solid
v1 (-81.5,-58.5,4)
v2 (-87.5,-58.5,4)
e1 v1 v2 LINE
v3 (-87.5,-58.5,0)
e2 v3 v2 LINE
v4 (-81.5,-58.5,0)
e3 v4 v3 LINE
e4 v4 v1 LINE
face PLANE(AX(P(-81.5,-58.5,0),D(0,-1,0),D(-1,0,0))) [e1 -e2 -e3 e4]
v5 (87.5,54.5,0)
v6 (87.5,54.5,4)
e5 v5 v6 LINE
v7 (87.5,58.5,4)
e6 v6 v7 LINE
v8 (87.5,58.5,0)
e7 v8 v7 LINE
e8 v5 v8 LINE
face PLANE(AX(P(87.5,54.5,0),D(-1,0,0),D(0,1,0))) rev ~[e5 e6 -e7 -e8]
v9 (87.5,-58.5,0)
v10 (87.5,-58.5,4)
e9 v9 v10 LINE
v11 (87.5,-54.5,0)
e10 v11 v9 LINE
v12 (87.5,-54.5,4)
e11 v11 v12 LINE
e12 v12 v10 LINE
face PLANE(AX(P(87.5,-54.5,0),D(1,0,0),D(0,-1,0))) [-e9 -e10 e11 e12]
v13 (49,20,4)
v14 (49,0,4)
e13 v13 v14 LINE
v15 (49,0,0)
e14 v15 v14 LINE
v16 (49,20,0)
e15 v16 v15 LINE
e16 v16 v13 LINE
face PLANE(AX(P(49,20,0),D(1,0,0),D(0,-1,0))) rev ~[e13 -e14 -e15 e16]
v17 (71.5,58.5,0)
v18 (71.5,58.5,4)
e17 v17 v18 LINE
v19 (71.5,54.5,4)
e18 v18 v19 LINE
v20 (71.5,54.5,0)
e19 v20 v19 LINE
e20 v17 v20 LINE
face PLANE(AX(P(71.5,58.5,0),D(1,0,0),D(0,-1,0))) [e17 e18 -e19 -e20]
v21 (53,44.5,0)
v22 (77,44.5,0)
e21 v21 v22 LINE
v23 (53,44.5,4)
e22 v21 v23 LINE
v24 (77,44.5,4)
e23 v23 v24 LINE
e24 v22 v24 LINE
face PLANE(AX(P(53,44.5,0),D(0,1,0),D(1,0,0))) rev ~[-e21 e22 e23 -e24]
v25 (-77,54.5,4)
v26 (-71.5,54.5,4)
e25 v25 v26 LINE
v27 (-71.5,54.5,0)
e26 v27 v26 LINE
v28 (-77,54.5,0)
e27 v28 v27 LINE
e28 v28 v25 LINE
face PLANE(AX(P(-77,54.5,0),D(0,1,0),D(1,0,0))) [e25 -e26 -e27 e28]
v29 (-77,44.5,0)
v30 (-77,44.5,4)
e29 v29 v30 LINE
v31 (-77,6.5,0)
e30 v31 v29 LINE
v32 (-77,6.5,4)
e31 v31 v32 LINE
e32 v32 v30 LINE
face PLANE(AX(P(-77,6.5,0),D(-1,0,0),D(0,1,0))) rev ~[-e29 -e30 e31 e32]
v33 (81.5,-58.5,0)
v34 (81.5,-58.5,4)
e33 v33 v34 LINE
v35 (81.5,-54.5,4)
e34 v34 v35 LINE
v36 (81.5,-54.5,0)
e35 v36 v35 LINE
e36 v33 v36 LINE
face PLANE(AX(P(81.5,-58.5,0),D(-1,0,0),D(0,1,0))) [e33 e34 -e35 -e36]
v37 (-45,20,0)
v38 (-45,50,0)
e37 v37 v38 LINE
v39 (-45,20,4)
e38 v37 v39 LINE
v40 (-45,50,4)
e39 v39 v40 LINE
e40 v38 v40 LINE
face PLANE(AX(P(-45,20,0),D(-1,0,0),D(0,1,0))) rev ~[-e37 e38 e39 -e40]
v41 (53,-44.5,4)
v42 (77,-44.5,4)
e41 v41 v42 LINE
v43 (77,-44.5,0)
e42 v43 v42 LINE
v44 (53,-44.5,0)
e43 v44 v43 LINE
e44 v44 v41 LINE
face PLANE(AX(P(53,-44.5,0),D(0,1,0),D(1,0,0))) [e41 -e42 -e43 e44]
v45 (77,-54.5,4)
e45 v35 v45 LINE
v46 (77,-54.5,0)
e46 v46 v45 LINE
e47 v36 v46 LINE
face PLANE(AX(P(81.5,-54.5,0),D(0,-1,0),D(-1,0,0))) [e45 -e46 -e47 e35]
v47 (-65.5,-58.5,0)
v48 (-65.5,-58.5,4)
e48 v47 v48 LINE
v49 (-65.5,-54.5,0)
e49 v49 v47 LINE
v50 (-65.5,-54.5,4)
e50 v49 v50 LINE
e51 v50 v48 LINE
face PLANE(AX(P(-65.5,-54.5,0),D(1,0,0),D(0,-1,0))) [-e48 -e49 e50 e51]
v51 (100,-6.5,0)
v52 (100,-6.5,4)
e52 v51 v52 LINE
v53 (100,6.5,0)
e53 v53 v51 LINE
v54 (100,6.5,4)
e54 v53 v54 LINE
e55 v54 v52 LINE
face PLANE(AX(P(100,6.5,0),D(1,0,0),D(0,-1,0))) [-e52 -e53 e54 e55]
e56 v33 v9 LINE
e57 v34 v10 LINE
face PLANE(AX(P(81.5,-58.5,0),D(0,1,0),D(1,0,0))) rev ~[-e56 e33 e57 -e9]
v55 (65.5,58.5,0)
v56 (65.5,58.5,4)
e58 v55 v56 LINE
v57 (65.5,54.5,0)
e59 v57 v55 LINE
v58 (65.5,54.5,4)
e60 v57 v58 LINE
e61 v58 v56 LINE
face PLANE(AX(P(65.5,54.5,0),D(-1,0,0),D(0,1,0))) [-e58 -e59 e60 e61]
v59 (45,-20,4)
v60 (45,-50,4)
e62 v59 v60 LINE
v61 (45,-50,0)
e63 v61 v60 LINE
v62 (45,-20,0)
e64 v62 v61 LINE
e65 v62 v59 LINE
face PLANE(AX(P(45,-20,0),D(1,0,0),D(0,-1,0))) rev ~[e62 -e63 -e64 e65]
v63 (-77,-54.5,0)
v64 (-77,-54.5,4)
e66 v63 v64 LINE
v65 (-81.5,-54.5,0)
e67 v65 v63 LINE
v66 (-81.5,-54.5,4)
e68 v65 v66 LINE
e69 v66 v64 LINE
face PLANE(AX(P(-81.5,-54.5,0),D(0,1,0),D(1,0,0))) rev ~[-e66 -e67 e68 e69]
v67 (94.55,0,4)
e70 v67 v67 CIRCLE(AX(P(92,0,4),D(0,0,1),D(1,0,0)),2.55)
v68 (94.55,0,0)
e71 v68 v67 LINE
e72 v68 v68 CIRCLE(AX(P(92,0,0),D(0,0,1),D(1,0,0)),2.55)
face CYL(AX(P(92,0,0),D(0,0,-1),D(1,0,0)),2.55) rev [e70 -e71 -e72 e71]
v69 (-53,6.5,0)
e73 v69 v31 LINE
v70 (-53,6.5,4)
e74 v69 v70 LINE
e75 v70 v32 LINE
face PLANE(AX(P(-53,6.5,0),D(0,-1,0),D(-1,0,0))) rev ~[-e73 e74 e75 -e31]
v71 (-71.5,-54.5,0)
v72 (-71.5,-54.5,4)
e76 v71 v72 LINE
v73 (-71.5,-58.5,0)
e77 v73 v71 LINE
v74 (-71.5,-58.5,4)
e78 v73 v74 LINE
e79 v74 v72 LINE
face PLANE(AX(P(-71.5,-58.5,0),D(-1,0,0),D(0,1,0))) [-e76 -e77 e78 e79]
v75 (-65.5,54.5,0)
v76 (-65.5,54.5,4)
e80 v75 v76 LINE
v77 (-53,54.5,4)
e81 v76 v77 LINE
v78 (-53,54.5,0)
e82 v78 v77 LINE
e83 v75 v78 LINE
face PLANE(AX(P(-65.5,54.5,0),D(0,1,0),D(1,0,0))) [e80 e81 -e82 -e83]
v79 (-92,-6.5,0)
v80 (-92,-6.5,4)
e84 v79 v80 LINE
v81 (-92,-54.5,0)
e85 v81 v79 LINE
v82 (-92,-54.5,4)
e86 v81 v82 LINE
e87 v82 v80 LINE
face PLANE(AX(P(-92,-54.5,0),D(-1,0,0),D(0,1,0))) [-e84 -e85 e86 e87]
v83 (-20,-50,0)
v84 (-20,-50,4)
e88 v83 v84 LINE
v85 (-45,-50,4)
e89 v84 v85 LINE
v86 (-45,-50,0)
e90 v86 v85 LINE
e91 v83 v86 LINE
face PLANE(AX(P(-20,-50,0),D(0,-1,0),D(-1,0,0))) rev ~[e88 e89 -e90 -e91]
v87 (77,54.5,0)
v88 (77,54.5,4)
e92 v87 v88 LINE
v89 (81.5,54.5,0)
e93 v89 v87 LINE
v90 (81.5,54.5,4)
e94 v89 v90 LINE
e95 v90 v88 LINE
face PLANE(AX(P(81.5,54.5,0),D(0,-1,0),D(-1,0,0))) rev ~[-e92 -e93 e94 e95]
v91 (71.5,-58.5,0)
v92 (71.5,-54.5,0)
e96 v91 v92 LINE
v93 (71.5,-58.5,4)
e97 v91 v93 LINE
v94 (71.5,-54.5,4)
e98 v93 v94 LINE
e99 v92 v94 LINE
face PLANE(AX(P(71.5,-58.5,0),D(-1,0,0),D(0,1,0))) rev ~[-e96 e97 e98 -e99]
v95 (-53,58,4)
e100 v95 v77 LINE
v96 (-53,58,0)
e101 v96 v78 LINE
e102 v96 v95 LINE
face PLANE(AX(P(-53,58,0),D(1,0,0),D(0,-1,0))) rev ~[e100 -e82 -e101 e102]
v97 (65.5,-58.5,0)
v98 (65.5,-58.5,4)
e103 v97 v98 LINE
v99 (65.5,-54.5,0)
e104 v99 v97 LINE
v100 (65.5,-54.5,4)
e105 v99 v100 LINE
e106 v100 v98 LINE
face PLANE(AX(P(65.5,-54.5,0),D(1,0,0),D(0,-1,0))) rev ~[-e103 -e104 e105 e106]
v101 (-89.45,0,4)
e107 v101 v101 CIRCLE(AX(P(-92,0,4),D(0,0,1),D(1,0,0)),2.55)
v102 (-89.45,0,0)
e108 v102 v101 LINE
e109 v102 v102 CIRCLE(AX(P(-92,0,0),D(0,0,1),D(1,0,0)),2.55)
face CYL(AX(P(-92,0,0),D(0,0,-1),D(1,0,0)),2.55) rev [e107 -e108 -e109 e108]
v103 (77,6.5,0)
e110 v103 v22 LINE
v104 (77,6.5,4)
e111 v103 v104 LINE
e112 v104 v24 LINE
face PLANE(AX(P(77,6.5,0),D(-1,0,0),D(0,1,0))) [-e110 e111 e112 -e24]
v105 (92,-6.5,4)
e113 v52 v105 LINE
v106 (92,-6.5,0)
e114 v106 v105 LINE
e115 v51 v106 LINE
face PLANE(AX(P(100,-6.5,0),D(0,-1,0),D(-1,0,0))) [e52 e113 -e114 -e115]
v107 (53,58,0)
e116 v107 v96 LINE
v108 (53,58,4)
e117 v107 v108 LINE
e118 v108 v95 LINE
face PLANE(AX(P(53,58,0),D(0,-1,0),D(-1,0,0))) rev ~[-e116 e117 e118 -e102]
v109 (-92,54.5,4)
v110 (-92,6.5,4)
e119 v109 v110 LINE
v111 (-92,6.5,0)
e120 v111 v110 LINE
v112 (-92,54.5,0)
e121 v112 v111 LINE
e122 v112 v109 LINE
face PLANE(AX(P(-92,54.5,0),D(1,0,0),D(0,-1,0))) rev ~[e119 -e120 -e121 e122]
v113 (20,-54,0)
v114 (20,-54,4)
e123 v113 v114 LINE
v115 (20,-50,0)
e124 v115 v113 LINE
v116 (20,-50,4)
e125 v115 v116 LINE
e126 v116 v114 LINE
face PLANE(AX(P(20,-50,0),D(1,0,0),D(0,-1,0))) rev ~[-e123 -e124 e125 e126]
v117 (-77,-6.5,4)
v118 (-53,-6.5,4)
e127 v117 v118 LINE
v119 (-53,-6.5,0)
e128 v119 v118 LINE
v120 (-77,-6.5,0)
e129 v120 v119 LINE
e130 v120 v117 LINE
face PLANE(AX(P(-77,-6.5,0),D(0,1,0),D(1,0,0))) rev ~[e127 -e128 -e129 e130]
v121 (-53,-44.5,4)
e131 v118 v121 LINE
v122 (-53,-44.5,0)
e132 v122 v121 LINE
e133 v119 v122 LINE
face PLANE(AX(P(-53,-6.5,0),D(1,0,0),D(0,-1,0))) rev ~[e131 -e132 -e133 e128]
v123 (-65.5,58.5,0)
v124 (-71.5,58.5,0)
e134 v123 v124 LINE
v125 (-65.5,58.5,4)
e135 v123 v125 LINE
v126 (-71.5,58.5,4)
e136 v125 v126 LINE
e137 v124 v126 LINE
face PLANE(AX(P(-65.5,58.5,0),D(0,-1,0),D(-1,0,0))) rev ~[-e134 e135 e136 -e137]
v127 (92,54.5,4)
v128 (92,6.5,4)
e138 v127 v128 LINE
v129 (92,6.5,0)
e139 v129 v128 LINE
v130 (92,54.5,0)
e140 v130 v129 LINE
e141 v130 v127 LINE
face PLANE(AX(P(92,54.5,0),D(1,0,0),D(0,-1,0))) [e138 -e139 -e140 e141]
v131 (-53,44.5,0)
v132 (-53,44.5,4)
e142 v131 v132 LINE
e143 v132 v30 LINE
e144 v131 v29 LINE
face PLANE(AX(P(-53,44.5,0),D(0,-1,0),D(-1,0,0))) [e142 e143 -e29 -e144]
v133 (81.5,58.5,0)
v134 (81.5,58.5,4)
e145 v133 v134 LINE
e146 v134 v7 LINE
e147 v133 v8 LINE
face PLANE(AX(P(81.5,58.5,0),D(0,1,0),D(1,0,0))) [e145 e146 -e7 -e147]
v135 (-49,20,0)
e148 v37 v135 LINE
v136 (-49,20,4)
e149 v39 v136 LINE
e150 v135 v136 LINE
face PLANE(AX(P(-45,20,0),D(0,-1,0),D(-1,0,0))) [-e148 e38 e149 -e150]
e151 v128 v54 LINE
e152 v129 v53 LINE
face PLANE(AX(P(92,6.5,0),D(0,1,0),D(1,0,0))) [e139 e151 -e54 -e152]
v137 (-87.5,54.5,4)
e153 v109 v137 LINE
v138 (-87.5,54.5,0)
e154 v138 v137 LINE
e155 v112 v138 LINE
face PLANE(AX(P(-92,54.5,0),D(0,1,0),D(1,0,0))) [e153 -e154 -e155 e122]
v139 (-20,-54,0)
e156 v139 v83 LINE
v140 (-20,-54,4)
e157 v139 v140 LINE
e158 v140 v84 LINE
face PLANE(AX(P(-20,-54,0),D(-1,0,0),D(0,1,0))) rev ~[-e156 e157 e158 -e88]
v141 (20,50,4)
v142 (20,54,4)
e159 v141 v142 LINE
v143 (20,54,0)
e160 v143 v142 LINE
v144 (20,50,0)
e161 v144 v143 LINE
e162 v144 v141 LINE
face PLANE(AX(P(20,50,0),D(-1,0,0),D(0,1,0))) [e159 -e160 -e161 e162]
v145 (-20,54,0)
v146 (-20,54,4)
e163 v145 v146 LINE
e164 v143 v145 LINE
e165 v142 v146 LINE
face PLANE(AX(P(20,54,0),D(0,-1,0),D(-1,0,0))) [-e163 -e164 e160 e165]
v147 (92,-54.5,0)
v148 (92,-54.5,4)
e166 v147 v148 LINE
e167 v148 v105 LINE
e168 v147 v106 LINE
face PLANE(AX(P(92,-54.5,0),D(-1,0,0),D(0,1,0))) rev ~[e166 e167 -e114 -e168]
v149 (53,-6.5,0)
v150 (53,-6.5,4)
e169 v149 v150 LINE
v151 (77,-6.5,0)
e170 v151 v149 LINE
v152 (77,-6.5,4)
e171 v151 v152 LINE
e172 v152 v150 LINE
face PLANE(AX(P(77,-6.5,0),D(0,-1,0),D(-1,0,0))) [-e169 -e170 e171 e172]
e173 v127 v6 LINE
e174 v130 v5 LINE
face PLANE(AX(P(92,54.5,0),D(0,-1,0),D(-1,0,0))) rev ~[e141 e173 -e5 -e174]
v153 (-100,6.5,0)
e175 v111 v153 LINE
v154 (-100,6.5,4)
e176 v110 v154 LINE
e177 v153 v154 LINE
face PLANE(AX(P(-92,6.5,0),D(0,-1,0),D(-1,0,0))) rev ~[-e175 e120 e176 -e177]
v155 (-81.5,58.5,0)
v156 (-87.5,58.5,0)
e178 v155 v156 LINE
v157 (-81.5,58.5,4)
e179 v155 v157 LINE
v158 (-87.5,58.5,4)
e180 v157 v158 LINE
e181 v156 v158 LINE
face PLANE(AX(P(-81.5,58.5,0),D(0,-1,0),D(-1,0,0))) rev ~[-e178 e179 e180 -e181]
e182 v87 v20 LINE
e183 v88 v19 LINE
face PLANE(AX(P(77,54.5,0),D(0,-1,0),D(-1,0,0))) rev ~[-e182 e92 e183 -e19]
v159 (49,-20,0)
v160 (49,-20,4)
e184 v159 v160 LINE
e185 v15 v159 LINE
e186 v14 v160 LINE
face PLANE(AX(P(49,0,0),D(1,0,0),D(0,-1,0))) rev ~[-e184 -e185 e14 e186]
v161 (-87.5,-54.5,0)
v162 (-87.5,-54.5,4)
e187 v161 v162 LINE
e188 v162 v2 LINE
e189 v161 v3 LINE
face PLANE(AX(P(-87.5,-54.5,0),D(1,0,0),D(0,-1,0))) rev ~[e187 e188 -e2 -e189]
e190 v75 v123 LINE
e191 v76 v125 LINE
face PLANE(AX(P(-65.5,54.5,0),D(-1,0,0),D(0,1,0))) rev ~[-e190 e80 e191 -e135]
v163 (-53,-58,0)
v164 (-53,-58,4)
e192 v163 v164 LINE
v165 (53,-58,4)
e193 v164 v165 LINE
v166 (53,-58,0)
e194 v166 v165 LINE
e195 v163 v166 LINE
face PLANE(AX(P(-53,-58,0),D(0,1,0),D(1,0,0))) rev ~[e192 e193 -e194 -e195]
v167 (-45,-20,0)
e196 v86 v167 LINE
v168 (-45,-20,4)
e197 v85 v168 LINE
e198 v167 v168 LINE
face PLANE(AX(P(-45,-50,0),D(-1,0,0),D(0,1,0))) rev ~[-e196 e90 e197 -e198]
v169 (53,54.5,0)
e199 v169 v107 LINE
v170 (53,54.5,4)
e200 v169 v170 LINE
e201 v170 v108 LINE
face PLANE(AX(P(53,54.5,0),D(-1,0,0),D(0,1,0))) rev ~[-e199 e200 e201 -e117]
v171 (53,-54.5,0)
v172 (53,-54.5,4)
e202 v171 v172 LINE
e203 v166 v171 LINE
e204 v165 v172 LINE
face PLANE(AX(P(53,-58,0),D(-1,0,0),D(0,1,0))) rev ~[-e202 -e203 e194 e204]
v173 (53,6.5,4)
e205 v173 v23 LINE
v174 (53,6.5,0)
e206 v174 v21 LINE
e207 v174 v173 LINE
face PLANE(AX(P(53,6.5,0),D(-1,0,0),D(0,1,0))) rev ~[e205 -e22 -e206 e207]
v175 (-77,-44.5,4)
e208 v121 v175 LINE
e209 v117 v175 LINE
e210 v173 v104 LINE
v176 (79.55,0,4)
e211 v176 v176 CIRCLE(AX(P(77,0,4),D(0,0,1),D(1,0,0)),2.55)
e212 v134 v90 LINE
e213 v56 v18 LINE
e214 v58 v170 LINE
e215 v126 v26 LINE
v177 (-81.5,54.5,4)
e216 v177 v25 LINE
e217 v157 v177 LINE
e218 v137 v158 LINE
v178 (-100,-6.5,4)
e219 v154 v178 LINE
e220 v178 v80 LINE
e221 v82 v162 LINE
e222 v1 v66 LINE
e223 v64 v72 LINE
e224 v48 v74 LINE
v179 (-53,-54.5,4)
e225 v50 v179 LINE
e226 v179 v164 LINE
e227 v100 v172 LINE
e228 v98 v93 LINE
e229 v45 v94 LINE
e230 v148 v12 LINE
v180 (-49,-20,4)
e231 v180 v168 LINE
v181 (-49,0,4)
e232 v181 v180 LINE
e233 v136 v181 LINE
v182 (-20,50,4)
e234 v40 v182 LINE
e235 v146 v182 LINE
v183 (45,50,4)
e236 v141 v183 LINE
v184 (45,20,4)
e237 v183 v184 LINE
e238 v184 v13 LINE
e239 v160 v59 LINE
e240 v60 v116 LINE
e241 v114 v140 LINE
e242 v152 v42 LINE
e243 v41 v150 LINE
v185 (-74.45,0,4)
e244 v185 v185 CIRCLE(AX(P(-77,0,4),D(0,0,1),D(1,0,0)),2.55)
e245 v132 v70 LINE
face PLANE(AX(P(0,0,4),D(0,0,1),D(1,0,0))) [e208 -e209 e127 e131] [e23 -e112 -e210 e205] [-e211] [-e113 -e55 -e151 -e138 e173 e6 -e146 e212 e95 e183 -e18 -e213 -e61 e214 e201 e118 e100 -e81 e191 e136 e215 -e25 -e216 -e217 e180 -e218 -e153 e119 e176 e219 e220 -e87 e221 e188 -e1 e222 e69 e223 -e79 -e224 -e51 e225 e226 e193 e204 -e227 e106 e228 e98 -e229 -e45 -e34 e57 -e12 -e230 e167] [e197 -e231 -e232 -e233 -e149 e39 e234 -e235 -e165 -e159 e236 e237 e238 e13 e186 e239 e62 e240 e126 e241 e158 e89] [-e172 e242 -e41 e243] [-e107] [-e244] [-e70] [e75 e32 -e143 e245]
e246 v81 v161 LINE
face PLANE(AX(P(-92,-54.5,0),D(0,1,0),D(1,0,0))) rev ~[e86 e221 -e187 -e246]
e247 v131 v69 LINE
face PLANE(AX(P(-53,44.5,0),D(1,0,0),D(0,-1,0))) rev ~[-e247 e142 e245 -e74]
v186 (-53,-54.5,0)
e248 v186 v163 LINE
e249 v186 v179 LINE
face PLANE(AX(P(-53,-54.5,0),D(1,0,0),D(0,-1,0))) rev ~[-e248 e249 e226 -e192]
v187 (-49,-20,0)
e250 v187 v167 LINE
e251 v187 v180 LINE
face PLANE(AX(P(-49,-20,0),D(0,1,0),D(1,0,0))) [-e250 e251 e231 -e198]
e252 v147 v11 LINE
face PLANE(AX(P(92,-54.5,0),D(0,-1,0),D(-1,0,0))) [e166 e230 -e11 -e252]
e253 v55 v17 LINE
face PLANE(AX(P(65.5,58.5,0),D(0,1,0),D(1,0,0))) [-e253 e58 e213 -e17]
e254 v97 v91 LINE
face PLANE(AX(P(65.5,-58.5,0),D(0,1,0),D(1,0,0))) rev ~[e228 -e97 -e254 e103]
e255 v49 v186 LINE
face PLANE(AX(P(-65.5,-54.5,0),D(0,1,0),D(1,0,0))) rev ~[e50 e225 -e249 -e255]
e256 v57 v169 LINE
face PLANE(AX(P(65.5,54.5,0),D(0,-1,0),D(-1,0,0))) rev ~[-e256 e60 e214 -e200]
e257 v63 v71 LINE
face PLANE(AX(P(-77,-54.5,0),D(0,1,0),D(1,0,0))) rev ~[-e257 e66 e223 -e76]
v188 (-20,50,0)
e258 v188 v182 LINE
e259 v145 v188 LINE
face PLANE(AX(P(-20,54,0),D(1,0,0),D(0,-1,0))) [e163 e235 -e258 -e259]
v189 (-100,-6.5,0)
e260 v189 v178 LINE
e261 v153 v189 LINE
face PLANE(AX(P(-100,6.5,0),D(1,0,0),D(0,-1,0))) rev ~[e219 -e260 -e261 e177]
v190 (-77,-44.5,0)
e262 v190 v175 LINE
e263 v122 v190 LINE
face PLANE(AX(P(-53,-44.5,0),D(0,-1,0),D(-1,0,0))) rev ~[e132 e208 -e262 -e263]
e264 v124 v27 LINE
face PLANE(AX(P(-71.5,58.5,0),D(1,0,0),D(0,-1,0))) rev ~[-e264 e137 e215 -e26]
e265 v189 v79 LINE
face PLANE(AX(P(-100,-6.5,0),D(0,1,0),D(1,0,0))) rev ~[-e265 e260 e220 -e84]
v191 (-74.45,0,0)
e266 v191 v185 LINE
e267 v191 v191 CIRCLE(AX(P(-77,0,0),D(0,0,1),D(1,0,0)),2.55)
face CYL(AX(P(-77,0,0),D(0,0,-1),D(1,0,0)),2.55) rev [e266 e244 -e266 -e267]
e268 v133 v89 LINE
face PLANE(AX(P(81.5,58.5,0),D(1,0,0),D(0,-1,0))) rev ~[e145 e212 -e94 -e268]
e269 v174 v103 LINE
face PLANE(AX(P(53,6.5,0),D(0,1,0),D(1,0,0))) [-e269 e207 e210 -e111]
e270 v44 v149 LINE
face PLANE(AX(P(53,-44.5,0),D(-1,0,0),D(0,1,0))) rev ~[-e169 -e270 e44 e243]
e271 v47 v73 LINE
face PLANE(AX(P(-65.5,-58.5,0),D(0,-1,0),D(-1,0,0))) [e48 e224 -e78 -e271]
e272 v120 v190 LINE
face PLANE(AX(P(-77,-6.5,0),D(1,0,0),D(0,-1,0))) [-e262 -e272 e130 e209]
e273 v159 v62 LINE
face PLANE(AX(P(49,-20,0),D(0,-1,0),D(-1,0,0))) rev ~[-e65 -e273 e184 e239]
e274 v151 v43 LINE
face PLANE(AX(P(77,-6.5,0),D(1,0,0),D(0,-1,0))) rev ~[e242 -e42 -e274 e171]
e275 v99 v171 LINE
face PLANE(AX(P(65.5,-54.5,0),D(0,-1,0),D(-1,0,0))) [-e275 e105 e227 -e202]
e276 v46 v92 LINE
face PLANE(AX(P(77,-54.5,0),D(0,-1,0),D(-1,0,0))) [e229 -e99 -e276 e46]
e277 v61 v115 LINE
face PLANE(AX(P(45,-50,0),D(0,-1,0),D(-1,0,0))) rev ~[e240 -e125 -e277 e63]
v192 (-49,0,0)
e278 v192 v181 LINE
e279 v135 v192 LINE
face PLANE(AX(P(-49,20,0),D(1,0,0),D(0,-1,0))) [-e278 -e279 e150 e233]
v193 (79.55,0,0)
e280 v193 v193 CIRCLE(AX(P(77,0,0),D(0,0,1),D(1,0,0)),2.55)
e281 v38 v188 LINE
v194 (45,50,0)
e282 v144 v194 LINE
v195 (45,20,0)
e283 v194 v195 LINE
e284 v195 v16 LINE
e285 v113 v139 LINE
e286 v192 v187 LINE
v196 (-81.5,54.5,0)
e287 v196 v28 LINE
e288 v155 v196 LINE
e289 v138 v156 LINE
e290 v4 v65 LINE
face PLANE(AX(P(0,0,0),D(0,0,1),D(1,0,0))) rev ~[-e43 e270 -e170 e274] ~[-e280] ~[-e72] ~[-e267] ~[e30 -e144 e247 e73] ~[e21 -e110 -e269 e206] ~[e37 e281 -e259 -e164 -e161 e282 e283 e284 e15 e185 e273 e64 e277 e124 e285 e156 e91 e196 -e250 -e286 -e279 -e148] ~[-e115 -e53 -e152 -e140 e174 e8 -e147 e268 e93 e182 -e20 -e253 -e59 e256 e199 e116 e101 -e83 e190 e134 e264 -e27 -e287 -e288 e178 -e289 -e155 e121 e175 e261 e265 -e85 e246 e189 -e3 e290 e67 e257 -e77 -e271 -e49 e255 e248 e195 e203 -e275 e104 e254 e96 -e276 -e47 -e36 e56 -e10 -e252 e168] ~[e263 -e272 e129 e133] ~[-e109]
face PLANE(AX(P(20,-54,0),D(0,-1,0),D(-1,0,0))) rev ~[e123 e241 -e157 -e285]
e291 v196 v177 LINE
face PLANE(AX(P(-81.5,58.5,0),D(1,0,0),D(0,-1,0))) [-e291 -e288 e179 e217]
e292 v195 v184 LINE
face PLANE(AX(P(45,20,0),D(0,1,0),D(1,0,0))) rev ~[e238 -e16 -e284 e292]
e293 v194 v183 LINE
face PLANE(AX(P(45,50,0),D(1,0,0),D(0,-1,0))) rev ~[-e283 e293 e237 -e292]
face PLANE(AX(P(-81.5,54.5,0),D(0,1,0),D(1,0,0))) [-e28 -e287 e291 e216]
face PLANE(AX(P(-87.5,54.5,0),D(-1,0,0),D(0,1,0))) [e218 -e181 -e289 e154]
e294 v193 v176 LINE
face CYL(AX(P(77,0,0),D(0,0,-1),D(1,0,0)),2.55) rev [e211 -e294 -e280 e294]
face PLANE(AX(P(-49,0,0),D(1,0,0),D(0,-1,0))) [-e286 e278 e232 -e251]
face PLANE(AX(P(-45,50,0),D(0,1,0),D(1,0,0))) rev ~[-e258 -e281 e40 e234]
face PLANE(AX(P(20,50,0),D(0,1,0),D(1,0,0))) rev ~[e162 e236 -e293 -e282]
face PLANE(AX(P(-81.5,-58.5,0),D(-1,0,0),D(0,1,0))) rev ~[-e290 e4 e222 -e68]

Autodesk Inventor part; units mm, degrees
ref_plane "YZ Plane" through (0, 0, 0) normal (1, 0, 0) x (0, 1, 0)
ref_plane "XZ Plane" through (0, 0, 0) normal (0, 1, 0) x (-1, 0, 0)
ref_plane "XY Plane" through (0, 0, 0) normal (0, 0, 1) x (1, 0, 0)
sketch "Sketch1" plane through (0, 0, 0) normal (0, 0, 1) x (1, 0, 0)
  line L0 (45, -50) -> (-45, -50)
  line L1 (-45, -50) -> (-45, 50)
  line L2 (-45, 50) -> (45, 50)
  line L3 (45, 50) -> (45, -50)
  line L4 (45, -50) -> (-45, 50) construction
  line L5 (-45, -50) -> (45, 50) construction
  line L6 (53, 58) -> (-53, 58)
  line L7 (-53, 58) -> (-53, 54.5)
  line L8 (-53, -58) -> (53, -58)
  line L9 (53, -58) -> (53, -54.5)
  line L10 (-20, 50) -> (20, 50)
  line L11 (20, 50) -> (20, 54)
  line L12 (20, 54) -> (-20, 54)
  line L13 (-20, 54) -> (-20, 50)
  line L14 (-20, -50) -> (20, -50)
  line L15 (20, -50) -> (20, -54)
  line L16 (20, -54) -> (-20, -54)
  line L17 (-20, -54) -> (-20, -50)
  line L18 (-45, 20) -> (-49, 20)
  line L19 (-49, 20) -> (-49, -20)
  line L20 (-49, -20) -> (-45, -20)
  line L21 (-45, -20) -> (-45, 20)
  line L22 (45, 20) -> (49, 20)
  line L23 (49, 20) -> (49, -20)
  line L24 (49, -20) -> (45, -20)
  line L25 (45, -20) -> (45, 20)
  line L26 (-53, 6.5) -> (-77, 6.5)
  line L27 (-100, 6.5) -> (-100, -6.5)
  line L28 (-100, -6.5) -> (-92, -6.5)
  line L29 (-53, -6.5) -> (-53, 6.5) construction
  line L30 (-53, 0) -> (53, 0)
  circle A0 centre (-92, 0) radius 2.55
  circle A1 centre (-77, 0) radius 2.55
  line L31 (0, 50) -> (0, -50)
  line L32 (-53, 6.5) -> (-53, -6.5) construction
  line L33 (-53, -6.5) -> (-53, -44.5)
  line L34 (53, 6.5) -> (53, 44.5)
  line L35 (53, -6.5) -> (53, 6.5) construction
  line L36 (-92, -6.5) -> (-77, -6.5) construction
  line L37 (-77, -6.5) -> (-77, -44.5)
  line L38 (-77, -58) -> (-92, -58) construction
  line L39 (-92, -58) -> (-92, -54.5) construction
  line L40 (-92, -58) -> (-77, -58) construction
  line L41 (-77, -58) -> (-77, -58.5) construction
  line L42 (-77, -58.5) -> (-81.5, -58.5) construction
  line L43 (-92, -58.5) -> (-92, -58) construction
  line L44 (-92, -54.5) -> (-87.5, -54.5)
  line L45 (-87.5, -54.5) -> (-87.5, -58.5)
  line L46 (-81.5, -58.5) -> (-81.5, -54.5)
  line L47 (-81.5, -54.5) -> (-77, -54.5)
  line L48 (-77, 6.5) -> (-77, 44.5)
  line L49 (-77, 58) -> (-92, 58) construction
  line L50 (-92, 58) -> (-92, 54.5) construction
  line L51 (-92, 58) -> (-77, 58) construction
  line L52 (-77, 58) -> (-77, 58.5) construction
  line L53 (-77, 58.5) -> (-81.5, 58.5) construction
  line L54 (-92, 58.5) -> (-92, 58) construction
  line L55 (-92, 54.5) -> (-87.5, 54.5)
  line L56 (-87.5, 54.5) -> (-87.5, 58.5)
  line L57 (-81.5, 58.5) -> (-81.5, 54.5)
  line L58 (-81.5, 54.5) -> (-77, 54.5)
  line L59 (-77, 6.5) -> (-92, 6.5) construction
  line L60 (-92, 6.5) -> (-100, 6.5)
  line L61 (-92, -6.5) -> (-77, -6.5) construction
  line L62 (-77, -6.5) -> (-53, -6.5)
  line L63 (-77, 54.5) -> (-77, 58) construction
  line L64 (-92, 54.5) -> (-92, 6.5)
  line L65 (-87.5, 58.5) -> (-92, 58.5) construction
  line L66 (-81.5, 58.5) -> (-87.5, 58.5)
  line L67 (-92, -54.5) -> (-92, -6.5)
  line L68 (-87.5, -58.5) -> (-92, -58.5) construction
  line L69 (-81.5, -58.5) -> (-87.5, -58.5)
  line L70 (-77, -54.5) -> (-77, -58) construction
  line L71 (-77, 54.5) -> (-71.5, 54.5)
  line L72 (-53, 54.5) -> (-53, 44.5) construction
  line L73 (-53, 44.5) -> (-77, 44.5)
  line L74 (-77, 44.5) -> (-77, 54.5) construction
  line L75 (-77, -54.5) -> (-71.5, -54.5)
  line L76 (-53, -54.5) -> (-53, -54)
  line L77 (-53, -44.5) -> (-77, -44.5)
  line L78 (-77, -44.5) -> (-77, -54.5) construction
  line L79 (-71.5, 54.5) -> (-65.5, 54.5) construction
  line L80 (-65.5, 54.5) -> (-65.5, 58.5)
  line L81 (-65.5, 58.5) -> (-71.5, 58.5)
  line L82 (-71.5, 58.5) -> (-71.5, 54.5)
  line L83 (-71.5, -54.5) -> (-65.5, -54.5) construction
  line L84 (-65.5, -54.5) -> (-65.5, -58.5)
  line L85 (-65.5, -58.5) -> (-71.5, -58.5)
  line L86 (-71.5, -58.5) -> (-71.5, -54.5)
  line L87 (-71.5, 54.5) -> (-65.5, 54.5) construction
  line L88 (-65.5, 54.5) -> (-53, 54.5)
  line L89 (-77, 44.5) -> (-77, 54.5) construction
  line L90 (-53, 44.5) -> (-53, 6.5)
  line L91 (-53, 54.5) -> (-53, 44.5) construction
  line L92 (-77, -44.5) -> (-77, -54.5) construction
  line L93 (-53, -44.5) -> (-53, -54.5) construction
  line L94 (-53, -54) -> (-53, -44.5) construction
  line L95 (-65.5, -54.5) -> (-53, -54.5)
  line L96 (-71.5, -54.5) -> (-65.5, -54.5) construction
  line L97 (-53, -54.5) -> (-53, -58)
  line L98 (53, 6.5) -> (77, 6.5)
  line L99 (100, 6.5) -> (100, -6.5)
  line L100 (100, -6.5) -> (92, -6.5)
  circle A2 centre (92, 0) radius 2.55
  circle A3 centre (77, 0) radius 2.55
  line L101 (92, -6.5) -> (77, -6.5) construction
  line L102 (77, -6.5) -> (77, -44.5)
  line L103 (77, -58) -> (92, -58) construction
  line L104 (92, -58) -> (92, -54.5) construction
  line L105 (92, -58) -> (77, -58) construction
  line L106 (77, -58) -> (77, -58.5) construction
  line L107 (77, -58.5) -> (81.5, -58.5) construction
  line L108 (92, -58.5) -> (92, -58) construction
  line L109 (92, -54.5) -> (87.5, -54.5)
  line L110 (87.5, -54.5) -> (87.5, -58.5)
  line L111 (81.5, -58.5) -> (81.5, -54.5)
  line L112 (81.5, -54.5) -> (77, -54.5)
  line L113 (92, 54.5) -> (87.5, 54.5)
  line L114 (92, 58) -> (92, 54.5) construction
  line L115 (77, 6.5) -> (77, 44.5)
  line L116 (81.5, 54.5) -> (77, 54.5)
  line L117 (77, 58) -> (92, 58) construction
  line L118 (92, 58) -> (77, 58) construction
  line L119 (77, 58) -> (77, 58.5) construction
  line L120 (77, 58.5) -> (81.5, 58.5) construction
  line L121 (81.5, 58.5) -> (81.5, 54.5)
  line L122 (92, 58.5) -> (92, 58) construction
  line L123 (87.5, 54.5) -> (87.5, 58.5)
  line L124 (77, 6.5) -> (92, 6.5) construction
  line L125 (92, 6.5) -> (100, 6.5)
  line L126 (92, -6.5) -> (77, -6.5) construction
  line L127 (77, -6.5) -> (53, -6.5)
  line L128 (77, 54.5) -> (77, 58) construction
  line L129 (92, 54.5) -> (92, 6.5)
  line L130 (87.5, 58.5) -> (92, 58.5) construction
  line L131 (81.5, 58.5) -> (87.5, 58.5)
  line L132 (92, -54.5) -> (92, -6.5)
  line L133 (87.5, -58.5) -> (92, -58.5) construction
  line L134 (81.5, -58.5) -> (87.5, -58.5)
  line L135 (77, -54.5) -> (77, -58) construction
  line L136 (77, 54.5) -> (71.5, 54.5)
  line L137 (53, 44.5) -> (77, 44.5)
  line L138 (77, 44.5) -> (77, 54.5) construction
  line L139 (77, -54.5) -> (71.5, -54.5)
  line L140 (53, -44.5) -> (77, -44.5)
  line L141 (77, -44.5) -> (77, -54.5) construction
  line L142 (71.5, 54.5) -> (65.5, 54.5) construction
  line L143 (65.5, 54.5) -> (65.5, 58.5)
  line L144 (65.5, 58.5) -> (71.5, 58.5)
  line L145 (71.5, 58.5) -> (71.5, 54.5)
  line L146 (71.5, -54.5) -> (65.5, -54.5) construction
  line L147 (65.5, -54.5) -> (65.5, -58.5)
  line L148 (65.5, -58.5) -> (71.5, -58.5)
  line L149 (71.5, -58.5) -> (71.5, -54.5)
  line L150 (71.5, 54.5) -> (65.5, 54.5) construction
  line L151 (65.5, 54.5) -> (53, 54.5)
  line L152 (77, 44.5) -> (77, 54.5) construction
  line L153 (77, -44.5) -> (77, -54.5) construction
  line L154 (65.5, -54.5) -> (53, -54.5)
  line L155 (71.5, -54.5) -> (65.5, -54.5) construction
  line L156 (53, 44.5) -> (53, 54.5) construction
  line L157 (53, 54.5) -> (53, 58)
  line L158 (53, -44.5) -> (53, -6.5)
  line L159 (53, -54.5) -> (53, -44.5) construction
  point P0 (0, 0)
  point P1 (0, 54)
  point P2 (0, 0)
  point P3 (-49, 0)
  point P4 (0, 0)
  point P5 (-53, 0)
  point P6 (0, 0)
  point P7 (0, 0)
  point P8 (-84.5, -58)
  point P9 (-84.5, 58)
  point P10 (-65, 44.5)
  point P11 (-81.5, 56.5)
  point P12 (-71.5, 56.5)
  point P13 (84.5, -58)
  point P14 (84.5, 58)
  point P15 (65, 44.5)
  point P16 (81.5, 56.5)
  point P17 (71.5, 56.5)
  dimension "d0" = 100
  dimension "d1" = 90
  dimension "d2" = 8
  dimension "d3" = 4
  dimension "d4" = 4
  dimension "d5" = 40
  dimension "d6" = 40
  dimension "d7" = 4
  dimension "d8" = 4
  dimension "d9" = 13
  dimension "d10" = 47
  dimension "d11" = 5.1
  dimension "d12" = 15
  dimension "d13" = 24
  dimension "d14" = 4
  dimension "d15" = 4
  dimension "d16" = 15
  dimension "d17" = 0.5
  dimension "d18" = 6
  dimension "d19" = 4.5
  dimension "d20" = 4.5
  dimension "d21" = 4
  dimension "d24" = 10
  dimension "d25" = 10
  dimension "d27" = 10
  dimension "d28" = 6
extrude "Extrusion1" add sketch "Sketch1" along normal blind 4
properties part number "DoorFrameRearL2_V3" material "Wood (Oak)"
